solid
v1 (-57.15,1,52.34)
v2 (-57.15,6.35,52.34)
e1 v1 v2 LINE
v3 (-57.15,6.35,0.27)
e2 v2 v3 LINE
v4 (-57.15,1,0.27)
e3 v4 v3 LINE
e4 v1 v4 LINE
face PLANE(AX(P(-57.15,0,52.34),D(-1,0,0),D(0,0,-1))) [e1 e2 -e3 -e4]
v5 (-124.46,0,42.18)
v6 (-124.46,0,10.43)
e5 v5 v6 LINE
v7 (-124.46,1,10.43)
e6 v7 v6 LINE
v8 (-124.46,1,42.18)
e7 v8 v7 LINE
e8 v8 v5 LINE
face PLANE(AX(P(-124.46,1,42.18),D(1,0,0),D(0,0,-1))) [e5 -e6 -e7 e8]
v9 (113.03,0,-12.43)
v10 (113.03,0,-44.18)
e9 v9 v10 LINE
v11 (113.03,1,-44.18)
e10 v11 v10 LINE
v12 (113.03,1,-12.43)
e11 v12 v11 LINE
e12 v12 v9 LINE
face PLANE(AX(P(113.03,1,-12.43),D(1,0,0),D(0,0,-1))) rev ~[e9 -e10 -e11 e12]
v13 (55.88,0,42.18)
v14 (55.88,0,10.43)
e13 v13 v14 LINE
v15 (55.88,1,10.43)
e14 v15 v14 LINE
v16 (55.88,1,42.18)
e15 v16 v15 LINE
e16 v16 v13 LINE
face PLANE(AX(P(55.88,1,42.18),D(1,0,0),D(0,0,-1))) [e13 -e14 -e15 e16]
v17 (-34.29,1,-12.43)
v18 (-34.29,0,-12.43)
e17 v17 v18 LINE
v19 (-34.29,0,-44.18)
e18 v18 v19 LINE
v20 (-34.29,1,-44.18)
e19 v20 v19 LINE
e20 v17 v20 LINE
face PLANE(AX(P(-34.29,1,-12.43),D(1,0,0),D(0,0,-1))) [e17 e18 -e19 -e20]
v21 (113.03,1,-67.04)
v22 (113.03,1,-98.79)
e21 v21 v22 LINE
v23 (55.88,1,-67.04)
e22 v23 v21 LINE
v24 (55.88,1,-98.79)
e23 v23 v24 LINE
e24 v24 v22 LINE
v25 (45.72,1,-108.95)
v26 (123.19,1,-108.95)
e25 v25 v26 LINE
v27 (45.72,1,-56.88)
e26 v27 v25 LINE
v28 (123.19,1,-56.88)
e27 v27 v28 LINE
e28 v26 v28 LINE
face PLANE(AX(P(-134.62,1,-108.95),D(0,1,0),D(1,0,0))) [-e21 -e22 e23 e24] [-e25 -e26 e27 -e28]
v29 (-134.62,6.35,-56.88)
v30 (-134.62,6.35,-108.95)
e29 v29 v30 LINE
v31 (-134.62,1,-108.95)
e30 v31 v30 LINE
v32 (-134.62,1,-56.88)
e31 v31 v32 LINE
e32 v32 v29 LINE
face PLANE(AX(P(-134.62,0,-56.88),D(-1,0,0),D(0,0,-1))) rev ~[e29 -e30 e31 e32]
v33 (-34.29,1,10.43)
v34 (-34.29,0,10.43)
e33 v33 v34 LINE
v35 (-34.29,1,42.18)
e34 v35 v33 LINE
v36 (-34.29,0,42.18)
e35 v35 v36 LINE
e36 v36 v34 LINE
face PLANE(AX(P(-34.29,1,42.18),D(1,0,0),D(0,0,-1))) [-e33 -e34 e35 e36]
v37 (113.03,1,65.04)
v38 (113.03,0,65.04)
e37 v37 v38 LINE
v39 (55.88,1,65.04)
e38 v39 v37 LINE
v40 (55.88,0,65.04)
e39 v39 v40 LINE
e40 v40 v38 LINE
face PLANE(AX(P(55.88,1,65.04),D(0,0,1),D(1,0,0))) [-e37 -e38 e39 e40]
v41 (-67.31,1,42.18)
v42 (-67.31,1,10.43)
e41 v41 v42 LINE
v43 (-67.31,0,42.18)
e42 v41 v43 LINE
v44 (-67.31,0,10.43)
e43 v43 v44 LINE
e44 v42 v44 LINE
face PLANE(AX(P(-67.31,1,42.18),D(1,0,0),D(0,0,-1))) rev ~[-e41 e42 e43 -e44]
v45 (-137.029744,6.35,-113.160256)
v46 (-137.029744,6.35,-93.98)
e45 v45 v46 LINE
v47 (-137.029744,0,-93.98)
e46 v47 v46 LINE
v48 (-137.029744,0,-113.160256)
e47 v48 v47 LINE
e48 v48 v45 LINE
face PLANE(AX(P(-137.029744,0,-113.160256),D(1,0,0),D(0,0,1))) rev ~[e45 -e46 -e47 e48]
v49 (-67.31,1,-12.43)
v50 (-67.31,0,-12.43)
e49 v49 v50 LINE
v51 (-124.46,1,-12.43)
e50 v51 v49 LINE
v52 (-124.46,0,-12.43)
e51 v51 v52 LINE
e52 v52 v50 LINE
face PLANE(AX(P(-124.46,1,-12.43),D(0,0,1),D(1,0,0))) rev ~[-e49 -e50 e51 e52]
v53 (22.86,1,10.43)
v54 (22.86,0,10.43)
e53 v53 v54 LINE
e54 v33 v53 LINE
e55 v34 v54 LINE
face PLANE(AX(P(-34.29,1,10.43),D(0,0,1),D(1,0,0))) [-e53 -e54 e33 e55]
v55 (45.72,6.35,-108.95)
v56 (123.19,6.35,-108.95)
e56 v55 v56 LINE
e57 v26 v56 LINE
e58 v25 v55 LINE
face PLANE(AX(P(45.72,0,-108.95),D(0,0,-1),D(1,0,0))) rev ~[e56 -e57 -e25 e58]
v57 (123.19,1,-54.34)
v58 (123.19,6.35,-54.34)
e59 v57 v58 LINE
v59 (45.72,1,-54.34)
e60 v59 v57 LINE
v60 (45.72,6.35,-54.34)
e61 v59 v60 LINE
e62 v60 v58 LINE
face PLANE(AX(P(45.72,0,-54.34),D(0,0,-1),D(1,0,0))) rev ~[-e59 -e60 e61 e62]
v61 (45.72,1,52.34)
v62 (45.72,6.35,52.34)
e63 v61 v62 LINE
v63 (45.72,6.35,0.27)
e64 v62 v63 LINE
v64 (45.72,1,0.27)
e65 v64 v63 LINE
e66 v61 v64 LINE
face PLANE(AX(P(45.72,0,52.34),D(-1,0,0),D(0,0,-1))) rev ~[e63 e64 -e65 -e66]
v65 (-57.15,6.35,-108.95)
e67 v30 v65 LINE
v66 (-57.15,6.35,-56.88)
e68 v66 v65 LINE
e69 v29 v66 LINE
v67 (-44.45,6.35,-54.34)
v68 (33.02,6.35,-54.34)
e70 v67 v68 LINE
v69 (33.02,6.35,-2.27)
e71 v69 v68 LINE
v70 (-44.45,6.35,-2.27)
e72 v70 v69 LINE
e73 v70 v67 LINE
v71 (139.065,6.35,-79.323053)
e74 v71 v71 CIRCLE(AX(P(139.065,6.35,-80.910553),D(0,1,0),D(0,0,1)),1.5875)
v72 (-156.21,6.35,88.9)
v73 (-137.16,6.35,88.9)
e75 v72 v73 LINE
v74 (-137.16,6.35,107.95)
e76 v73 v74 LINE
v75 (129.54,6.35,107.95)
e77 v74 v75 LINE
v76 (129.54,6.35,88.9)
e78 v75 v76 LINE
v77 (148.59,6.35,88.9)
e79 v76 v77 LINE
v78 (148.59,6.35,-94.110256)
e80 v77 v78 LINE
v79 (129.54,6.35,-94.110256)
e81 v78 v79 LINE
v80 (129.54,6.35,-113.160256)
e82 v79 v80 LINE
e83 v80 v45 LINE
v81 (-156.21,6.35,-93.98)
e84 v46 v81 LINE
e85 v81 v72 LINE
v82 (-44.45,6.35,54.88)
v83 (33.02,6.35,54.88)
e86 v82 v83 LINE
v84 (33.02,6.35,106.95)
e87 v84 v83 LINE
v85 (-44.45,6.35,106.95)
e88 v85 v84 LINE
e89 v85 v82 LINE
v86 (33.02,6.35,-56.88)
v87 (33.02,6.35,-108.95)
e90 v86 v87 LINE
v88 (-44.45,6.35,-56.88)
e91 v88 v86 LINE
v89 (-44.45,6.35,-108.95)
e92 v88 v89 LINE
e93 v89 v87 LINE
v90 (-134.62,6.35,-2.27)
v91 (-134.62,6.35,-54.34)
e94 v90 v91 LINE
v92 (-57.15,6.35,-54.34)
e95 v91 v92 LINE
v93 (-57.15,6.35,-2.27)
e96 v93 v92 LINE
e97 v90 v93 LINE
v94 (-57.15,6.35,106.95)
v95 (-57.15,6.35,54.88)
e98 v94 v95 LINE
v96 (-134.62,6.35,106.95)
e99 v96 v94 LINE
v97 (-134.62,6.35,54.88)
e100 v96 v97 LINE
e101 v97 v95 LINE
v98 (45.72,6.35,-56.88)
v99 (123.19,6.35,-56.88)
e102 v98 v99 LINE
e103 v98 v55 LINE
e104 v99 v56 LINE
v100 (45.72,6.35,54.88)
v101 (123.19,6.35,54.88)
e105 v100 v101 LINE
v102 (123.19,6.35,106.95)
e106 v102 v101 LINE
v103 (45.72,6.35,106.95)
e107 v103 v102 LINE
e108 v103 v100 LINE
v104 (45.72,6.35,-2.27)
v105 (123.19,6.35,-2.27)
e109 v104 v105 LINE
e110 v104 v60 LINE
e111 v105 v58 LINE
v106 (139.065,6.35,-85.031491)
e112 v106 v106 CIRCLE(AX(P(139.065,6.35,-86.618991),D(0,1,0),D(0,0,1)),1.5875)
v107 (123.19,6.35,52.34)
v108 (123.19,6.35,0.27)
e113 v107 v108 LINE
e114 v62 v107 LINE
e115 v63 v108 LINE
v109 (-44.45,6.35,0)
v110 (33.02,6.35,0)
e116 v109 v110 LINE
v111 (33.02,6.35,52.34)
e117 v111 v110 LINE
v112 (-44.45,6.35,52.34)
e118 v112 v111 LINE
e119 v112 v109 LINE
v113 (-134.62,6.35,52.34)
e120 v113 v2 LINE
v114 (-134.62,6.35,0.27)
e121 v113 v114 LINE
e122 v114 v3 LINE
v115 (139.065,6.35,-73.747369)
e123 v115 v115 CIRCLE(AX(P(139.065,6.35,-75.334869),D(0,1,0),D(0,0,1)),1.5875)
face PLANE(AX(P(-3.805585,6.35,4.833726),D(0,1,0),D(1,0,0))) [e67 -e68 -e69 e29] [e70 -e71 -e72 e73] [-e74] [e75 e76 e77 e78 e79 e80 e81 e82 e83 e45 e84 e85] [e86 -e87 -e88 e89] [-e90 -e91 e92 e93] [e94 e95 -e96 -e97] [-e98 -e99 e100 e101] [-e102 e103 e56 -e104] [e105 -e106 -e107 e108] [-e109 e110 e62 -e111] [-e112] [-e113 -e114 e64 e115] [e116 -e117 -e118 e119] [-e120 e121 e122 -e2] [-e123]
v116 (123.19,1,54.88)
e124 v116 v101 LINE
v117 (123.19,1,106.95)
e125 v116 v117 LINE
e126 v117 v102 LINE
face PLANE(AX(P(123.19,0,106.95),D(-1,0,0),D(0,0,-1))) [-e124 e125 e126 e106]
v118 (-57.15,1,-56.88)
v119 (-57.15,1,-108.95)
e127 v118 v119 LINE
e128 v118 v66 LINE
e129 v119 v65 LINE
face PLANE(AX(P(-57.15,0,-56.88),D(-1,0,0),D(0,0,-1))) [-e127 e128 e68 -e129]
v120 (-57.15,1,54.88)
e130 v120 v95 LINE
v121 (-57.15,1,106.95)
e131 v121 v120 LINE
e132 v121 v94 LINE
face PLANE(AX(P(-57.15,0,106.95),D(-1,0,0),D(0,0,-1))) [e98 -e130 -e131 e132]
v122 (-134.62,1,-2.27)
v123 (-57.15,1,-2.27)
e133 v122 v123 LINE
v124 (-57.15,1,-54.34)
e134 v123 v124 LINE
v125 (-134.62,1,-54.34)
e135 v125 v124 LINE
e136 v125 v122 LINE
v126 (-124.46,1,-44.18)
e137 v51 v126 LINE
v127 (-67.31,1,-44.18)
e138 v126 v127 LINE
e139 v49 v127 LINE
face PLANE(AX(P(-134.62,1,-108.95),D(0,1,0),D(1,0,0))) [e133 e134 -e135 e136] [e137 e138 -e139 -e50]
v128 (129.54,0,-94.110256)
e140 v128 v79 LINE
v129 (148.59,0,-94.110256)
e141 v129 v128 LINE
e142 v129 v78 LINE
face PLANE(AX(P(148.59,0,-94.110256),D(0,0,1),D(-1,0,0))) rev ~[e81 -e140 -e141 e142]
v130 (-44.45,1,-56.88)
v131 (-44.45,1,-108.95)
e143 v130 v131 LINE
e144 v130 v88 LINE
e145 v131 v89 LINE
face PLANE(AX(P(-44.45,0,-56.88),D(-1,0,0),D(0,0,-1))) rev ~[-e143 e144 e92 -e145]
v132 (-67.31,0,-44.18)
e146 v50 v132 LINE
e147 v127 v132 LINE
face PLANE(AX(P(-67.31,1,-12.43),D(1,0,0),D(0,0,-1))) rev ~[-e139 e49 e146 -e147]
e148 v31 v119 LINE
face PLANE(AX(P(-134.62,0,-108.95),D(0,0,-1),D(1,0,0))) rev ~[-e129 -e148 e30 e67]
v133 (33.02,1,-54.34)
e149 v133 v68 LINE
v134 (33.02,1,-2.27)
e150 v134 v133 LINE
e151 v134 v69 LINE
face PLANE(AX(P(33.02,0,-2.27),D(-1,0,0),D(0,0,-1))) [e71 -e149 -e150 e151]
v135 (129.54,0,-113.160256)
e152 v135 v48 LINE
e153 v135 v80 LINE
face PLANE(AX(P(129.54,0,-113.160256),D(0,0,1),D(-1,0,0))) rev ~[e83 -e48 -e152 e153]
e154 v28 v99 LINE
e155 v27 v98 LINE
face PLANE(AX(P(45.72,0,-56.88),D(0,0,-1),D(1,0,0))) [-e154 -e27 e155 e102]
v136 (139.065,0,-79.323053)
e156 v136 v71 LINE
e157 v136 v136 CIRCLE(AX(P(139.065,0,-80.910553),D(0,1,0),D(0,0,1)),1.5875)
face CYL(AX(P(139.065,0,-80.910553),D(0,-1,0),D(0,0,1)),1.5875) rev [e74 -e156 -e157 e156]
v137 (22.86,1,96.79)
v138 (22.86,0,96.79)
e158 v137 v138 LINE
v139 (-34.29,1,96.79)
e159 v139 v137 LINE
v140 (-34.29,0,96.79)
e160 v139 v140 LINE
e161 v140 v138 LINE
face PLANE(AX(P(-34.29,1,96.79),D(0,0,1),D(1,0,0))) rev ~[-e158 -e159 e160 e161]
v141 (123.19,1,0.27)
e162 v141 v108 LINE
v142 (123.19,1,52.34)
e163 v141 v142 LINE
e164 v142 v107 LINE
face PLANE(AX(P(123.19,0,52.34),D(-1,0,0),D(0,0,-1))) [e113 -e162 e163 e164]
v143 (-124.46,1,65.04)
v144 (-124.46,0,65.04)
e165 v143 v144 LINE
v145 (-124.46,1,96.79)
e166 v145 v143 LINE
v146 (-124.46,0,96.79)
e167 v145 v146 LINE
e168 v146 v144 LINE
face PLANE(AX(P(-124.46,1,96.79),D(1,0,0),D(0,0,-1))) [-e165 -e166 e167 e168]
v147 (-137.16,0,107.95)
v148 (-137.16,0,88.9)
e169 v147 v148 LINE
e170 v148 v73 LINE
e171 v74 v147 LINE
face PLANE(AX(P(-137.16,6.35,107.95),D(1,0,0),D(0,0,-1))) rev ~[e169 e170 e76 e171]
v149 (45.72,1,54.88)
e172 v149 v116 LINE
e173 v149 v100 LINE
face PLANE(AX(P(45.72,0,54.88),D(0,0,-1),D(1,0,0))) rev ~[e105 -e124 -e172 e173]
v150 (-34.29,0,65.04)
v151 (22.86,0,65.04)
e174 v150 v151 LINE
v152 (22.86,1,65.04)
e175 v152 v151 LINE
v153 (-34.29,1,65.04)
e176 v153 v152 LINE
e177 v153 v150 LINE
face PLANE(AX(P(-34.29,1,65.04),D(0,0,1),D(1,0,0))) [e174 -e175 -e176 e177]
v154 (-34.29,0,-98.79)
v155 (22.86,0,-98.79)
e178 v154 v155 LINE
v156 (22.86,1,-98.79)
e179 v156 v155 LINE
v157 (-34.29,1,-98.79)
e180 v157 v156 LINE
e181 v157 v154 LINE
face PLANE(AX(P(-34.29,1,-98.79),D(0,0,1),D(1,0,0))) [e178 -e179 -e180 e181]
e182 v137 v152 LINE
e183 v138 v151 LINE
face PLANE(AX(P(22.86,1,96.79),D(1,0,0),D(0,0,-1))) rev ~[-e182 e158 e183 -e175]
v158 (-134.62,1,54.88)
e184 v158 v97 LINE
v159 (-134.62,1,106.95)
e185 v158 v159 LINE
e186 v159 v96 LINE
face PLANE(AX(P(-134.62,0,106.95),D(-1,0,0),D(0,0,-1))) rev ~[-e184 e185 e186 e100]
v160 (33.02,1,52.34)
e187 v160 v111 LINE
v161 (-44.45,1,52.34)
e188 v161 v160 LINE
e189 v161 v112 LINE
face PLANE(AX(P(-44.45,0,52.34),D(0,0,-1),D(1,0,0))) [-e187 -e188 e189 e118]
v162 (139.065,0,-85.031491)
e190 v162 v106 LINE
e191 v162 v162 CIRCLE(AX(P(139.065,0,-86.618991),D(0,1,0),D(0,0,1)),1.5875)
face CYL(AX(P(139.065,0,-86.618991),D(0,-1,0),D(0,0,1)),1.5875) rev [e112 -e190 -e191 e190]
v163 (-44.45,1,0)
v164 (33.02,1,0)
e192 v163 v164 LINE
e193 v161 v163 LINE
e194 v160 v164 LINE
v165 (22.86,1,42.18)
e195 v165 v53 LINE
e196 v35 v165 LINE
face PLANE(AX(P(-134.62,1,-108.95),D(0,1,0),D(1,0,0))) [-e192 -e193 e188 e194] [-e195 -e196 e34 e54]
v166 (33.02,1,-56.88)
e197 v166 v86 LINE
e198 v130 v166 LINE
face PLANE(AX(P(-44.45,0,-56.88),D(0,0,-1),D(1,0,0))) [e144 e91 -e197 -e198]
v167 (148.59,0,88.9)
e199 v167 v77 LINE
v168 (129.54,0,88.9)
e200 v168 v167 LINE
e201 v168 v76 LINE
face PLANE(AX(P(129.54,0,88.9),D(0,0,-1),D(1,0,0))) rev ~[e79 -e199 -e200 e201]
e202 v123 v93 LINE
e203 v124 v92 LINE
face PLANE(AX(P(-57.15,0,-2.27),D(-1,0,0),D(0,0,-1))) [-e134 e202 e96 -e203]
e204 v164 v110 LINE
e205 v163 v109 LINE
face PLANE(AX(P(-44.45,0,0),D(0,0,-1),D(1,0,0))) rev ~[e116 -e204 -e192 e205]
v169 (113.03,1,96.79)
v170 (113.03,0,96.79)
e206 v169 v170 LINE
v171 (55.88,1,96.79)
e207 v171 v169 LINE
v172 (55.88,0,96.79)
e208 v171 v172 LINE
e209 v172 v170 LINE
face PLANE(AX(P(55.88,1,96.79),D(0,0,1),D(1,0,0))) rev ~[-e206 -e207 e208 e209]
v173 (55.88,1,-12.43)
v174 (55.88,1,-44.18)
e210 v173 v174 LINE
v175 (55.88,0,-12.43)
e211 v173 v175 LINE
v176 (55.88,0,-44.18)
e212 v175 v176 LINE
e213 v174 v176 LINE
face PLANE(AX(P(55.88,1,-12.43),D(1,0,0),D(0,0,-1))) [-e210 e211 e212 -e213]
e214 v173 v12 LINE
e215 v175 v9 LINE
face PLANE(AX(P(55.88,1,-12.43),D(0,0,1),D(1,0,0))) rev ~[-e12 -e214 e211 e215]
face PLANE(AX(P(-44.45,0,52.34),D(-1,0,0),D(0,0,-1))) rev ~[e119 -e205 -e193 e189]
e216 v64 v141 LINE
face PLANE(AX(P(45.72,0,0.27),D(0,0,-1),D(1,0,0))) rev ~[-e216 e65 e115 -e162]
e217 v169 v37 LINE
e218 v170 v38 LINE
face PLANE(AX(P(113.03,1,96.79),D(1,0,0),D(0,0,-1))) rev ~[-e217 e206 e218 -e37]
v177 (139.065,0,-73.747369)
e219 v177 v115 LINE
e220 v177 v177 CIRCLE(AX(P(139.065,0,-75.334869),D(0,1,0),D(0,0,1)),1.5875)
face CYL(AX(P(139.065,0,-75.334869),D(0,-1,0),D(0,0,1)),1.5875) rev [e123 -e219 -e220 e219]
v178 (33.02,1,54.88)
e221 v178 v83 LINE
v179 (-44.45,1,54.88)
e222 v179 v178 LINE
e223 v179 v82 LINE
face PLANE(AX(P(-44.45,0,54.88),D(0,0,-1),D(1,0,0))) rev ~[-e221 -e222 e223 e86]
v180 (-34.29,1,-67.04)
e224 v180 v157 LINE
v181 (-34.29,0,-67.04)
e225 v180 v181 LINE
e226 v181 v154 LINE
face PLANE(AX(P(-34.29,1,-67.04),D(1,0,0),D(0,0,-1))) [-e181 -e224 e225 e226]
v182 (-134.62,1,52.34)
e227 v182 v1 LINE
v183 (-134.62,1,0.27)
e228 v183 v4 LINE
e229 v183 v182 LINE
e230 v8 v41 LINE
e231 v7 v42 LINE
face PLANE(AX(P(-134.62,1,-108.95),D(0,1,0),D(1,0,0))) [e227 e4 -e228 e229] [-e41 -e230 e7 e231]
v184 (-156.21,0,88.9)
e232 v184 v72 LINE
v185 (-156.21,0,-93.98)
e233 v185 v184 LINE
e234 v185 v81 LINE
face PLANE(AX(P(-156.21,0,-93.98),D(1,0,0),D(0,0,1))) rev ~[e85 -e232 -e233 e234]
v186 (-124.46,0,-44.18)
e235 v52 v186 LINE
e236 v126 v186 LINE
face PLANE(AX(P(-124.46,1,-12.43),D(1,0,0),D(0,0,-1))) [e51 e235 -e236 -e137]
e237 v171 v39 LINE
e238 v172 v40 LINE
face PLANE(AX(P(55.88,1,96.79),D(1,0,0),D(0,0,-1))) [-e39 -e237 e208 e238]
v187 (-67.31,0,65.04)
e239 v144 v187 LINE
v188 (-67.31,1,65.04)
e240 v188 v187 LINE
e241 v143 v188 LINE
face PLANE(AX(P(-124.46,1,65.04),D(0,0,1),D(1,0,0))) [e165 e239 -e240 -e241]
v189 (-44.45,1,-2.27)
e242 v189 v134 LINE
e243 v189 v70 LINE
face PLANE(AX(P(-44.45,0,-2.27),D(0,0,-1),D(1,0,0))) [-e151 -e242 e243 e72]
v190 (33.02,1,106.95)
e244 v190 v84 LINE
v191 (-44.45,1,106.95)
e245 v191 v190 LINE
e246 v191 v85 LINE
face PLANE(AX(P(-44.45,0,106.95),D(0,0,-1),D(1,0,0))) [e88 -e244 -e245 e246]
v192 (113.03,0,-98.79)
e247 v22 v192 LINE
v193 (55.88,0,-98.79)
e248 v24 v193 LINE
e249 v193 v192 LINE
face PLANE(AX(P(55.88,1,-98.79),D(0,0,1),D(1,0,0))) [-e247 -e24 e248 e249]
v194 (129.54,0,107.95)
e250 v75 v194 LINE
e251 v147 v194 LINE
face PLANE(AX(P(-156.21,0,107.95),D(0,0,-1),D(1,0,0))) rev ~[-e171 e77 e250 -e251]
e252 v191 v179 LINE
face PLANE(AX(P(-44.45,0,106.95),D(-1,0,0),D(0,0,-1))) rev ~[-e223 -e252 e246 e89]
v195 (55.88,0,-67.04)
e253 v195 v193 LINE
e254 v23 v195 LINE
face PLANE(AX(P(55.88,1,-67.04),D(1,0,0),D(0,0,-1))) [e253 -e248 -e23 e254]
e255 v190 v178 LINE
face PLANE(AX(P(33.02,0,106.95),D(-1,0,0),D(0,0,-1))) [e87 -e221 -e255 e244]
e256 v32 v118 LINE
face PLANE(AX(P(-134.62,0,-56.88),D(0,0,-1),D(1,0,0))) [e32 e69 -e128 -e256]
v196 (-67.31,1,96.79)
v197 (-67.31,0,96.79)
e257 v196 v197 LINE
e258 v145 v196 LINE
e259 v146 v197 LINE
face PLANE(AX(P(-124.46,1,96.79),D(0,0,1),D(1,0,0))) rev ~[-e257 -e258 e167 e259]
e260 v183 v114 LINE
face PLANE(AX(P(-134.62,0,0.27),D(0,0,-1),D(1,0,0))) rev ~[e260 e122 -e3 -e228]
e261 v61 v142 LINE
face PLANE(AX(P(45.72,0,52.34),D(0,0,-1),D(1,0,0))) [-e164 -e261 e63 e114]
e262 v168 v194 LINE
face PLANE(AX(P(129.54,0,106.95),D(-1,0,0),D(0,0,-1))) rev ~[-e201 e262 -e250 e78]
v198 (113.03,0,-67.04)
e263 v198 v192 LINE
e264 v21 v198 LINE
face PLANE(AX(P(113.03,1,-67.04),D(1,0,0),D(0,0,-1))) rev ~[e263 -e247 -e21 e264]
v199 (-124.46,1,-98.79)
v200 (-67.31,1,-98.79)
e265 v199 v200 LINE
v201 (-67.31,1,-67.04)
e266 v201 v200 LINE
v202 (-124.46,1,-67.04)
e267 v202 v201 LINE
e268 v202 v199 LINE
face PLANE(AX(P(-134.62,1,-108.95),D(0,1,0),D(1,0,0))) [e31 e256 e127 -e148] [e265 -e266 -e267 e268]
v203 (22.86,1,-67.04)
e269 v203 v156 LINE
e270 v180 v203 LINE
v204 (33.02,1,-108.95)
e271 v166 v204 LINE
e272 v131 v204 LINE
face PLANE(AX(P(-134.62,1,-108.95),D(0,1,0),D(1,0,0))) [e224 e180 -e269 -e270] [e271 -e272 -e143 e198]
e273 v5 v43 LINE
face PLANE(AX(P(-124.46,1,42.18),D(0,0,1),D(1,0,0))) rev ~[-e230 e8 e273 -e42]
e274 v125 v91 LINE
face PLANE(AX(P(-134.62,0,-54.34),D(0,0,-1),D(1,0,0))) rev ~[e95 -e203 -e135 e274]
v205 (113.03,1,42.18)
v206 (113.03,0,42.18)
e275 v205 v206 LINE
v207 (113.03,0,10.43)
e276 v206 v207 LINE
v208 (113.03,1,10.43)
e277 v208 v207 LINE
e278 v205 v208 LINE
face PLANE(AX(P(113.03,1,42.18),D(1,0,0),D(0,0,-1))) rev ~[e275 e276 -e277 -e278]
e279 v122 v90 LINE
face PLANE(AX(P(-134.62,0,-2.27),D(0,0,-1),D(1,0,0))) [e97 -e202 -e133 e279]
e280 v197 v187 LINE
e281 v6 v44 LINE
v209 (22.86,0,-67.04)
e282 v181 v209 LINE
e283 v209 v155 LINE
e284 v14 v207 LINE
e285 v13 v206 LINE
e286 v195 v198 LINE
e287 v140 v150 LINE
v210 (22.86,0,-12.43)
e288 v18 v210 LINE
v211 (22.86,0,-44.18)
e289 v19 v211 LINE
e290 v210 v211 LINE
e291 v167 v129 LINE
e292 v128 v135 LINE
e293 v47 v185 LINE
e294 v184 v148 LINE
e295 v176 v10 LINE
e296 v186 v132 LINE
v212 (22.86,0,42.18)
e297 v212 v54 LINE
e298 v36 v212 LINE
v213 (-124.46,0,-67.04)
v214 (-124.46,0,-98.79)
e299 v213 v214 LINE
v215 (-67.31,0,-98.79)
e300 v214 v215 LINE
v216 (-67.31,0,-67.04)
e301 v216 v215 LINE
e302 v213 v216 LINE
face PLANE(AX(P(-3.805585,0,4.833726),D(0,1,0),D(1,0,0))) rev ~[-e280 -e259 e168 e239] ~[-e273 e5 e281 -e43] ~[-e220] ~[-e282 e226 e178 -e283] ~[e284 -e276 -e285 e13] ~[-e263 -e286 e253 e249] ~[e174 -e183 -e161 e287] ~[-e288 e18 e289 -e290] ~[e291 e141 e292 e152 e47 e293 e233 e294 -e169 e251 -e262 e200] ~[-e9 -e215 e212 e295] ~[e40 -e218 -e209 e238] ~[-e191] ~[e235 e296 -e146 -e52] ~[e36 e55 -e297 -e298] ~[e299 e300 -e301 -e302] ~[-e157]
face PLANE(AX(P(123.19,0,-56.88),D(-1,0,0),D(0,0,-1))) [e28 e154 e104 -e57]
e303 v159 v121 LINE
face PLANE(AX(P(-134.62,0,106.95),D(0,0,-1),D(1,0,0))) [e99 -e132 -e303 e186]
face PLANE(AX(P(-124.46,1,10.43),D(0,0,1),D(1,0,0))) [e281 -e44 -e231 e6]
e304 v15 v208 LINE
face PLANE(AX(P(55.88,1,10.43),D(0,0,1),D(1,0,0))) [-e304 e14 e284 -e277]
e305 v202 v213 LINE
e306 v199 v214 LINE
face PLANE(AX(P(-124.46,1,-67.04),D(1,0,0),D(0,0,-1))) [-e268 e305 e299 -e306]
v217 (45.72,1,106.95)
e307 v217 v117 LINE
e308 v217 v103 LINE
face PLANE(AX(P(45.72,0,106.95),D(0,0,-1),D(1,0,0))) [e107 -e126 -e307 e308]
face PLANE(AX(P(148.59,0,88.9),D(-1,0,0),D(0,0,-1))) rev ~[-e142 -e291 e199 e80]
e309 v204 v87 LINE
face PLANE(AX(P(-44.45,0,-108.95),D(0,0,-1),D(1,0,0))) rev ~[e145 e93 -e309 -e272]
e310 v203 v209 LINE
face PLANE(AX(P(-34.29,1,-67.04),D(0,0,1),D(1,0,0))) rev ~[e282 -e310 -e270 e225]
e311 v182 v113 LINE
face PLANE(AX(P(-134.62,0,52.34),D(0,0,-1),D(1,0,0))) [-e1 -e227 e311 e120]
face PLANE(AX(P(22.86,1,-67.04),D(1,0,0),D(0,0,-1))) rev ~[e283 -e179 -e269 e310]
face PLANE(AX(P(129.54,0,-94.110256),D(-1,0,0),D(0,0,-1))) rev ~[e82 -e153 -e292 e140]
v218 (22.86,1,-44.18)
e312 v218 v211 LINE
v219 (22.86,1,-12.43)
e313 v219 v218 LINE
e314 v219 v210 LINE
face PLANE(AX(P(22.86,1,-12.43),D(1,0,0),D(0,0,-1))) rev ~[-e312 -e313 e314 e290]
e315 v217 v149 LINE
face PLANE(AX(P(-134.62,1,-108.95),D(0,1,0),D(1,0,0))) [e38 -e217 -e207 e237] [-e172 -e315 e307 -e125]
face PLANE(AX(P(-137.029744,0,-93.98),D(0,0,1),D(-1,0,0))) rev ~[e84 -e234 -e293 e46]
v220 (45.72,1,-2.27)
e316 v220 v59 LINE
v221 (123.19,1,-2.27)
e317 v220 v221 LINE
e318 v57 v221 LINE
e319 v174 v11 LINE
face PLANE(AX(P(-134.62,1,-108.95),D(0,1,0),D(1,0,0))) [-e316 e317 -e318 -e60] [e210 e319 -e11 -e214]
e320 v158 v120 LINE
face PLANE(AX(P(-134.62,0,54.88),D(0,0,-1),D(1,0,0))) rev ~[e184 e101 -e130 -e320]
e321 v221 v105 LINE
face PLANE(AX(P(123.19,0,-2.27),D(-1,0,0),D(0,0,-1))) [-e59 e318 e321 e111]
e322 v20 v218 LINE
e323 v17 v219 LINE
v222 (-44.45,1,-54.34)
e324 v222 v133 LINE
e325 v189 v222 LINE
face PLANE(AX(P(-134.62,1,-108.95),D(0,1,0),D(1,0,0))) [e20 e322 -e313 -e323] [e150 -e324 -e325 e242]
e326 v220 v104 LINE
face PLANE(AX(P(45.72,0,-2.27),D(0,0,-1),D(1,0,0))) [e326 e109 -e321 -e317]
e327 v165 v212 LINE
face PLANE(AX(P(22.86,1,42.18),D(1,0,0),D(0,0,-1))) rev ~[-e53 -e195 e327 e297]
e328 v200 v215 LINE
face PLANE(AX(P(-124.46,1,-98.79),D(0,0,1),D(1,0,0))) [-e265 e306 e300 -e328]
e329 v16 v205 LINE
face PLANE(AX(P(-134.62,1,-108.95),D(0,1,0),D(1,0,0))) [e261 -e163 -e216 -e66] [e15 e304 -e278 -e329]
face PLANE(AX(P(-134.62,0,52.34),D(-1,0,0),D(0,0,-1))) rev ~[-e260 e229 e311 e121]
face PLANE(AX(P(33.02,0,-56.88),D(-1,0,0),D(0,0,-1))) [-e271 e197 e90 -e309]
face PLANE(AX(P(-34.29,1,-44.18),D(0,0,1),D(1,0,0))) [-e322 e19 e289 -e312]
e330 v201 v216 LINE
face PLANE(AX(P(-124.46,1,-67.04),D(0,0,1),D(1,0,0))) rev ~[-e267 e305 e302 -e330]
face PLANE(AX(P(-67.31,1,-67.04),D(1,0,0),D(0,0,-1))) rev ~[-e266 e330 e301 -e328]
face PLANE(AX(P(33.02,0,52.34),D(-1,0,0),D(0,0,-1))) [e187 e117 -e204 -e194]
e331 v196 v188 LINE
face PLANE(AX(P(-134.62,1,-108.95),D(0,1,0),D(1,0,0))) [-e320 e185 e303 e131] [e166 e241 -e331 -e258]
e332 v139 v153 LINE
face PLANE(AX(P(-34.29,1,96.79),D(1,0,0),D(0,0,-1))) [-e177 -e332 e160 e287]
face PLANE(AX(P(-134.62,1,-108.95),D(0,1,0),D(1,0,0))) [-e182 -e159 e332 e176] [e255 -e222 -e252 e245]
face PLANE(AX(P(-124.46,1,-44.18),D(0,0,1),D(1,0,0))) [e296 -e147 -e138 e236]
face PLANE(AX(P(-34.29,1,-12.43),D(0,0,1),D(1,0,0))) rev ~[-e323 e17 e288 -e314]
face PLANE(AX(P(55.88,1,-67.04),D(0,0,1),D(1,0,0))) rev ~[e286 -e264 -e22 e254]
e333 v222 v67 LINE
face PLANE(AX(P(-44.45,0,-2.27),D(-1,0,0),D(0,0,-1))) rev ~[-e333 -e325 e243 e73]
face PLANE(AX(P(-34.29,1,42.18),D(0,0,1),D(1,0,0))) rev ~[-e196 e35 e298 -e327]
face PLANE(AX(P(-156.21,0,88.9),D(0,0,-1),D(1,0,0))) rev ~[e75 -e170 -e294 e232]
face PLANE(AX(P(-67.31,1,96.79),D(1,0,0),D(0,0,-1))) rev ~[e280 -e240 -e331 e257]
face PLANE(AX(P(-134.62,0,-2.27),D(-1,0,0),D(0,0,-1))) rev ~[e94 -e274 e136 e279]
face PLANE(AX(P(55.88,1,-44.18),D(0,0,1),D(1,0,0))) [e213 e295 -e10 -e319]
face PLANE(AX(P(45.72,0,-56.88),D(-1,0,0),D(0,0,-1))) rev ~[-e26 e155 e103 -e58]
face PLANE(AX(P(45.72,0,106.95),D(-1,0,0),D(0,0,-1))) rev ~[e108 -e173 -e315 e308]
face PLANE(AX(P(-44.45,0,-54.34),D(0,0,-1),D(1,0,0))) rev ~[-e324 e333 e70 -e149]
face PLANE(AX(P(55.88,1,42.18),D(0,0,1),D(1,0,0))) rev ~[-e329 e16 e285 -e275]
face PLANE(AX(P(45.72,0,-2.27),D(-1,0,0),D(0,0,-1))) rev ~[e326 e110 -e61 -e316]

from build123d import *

# Parameters (mm, degrees)
SKETCH1_W           = 77.47
SKETCH1_H           = 52.07
SKETCH1_R           = 1.5875
SKETCH1_H_2         = 52.34
BOSS_EXTRUDE3_DEPTH = 6.35
SKETCH2_W           = 19.05
SKETCH2_H           = 1
CUT_EXTRUDE1_DEPTH  = 193.995155978
SKETCH4_W           = 19.05
SKETCH4_H           = 1
CUT_EXTRUDE2_DEPTH  = 193.995155978
SKETCH5_W           = 257.81
SKETCH5_H           = 1
BOSS_EXTRUDE4_DEPTH = 215.9
SKETCH6_W           = 57.15
SKETCH6_H           = 31.75
CUT_EXTRUDE3_DEPTH  = 193.964841955


with BuildPart() as part:
    # Sketch1 → Boss-Extrude3 (new body)
    with BuildSketch(Plane(origin=(0, 0, 0), x_dir=(1, 0, 0), z_dir=(0, 1, 0))):
        Polygon((148.59, 94.11025641), (129.54, 94.11025641), (129.54, 113.16025641), (-137.02974359, 113.16025641), (-137.02974359, 93.98), (-156.21, 93.98), (-156.21, -88.9), (-137.16, -88.9), (-137.16, -106.95), (-156.21, -106.95), (-156.21, -107.95), (148.59, -107.95), (148.59, -106.95), (129.54, -106.95), (129.54, -88.9), (148.59, -88.9), align=None)
        with Locations((-95.885, -80.915)):
            Rectangle(SKETCH1_W, SKETCH1_H, mode=Mode.SUBTRACT)
        with Locations((-5.715, -80.915)):
            Rectangle(SKETCH1_W, SKETCH1_H, mode=Mode.SUBTRACT)
        with Locations((84.455, -80.915)):
            Rectangle(SKETCH1_W, SKETCH1_H, mode=Mode.SUBTRACT)
        with Locations((84.455, 82.915)):
            Rectangle(SKETCH1_W, SKETCH1_H, mode=Mode.SUBTRACT)
        with Locations((84.455, 28.305)):
            Rectangle(SKETCH1_W, SKETCH1_H, mode=Mode.SUBTRACT)
        with Locations((84.455, -26.305)):
            Rectangle(SKETCH1_W, SKETCH1_H, mode=Mode.SUBTRACT)
        with Locations(Location((139.065, 75.334869264, 0), (0, 0, 270))):
            Circle(SKETCH1_R, mode=Mode.SUBTRACT)
        with Locations(Location((139.065, 80.910552749, 0), (0, 0, 270))):
            Circle(SKETCH1_R, mode=Mode.SUBTRACT)
        with Locations(Location((139.065, 86.618990604, 0), (0, 0, 270))):
            Circle(SKETCH1_R, mode=Mode.SUBTRACT)
        with Locations((-5.715, 82.915)):
            Rectangle(SKETCH1_W, SKETCH1_H, mode=Mode.SUBTRACT)
        with Locations((-95.885, -26.305)):
            Rectangle(SKETCH1_W, SKETCH1_H, mode=Mode.SUBTRACT)
        with Locations((-5.715, -26.17)):
            Rectangle(SKETCH1_W, SKETCH1_H_2, mode=Mode.SUBTRACT)
        with Locations((-95.885, 28.305)):
            Rectangle(SKETCH1_W, SKETCH1_H, mode=Mode.SUBTRACT)
        with Locations((-5.715, 28.305)):
            Rectangle(SKETCH1_W, SKETCH1_H, mode=Mode.SUBTRACT)
        with Locations((-95.885, 82.915)):
            Rectangle(SKETCH1_W, SKETCH1_H, mode=Mode.SUBTRACT)
    extrude(amount=BOSS_EXTRUDE3_DEPTH)

    # Sketch2 → Cut-Extrude1 (cut, through all)
    with BuildSketch(Plane(origin=(0, 6.35, 0), x_dir=(1, 0, 0), z_dir=(0, 1, 0))):
        with Locations((139.065, -107.45)):
            Rectangle(SKETCH2_W, SKETCH2_H)
    extrude(amount=-CUT_EXTRUDE1_DEPTH, mode=Mode.SUBTRACT)

    # Sketch4 → Cut-Extrude2 (cut, through all)
    with BuildSketch(Plane(origin=(0, 6.35, 0), x_dir=(1, 0, 0), z_dir=(0, 1, 0))):
        with Locations((-146.685, -107.45)):
            Rectangle(SKETCH4_W, SKETCH4_H)
    extrude(amount=-CUT_EXTRUDE2_DEPTH, mode=Mode.SUBTRACT)

    # Sketch5 → Boss-Extrude4 (add)
    with BuildSketch(Plane.XY.offset(-108.95)):
        with Locations((-5.715, 0.5)):
            Rectangle(SKETCH5_W, SKETCH5_H)
    extrude(amount=BOSS_EXTRUDE4_DEPTH)

    # Sketch6 → Cut-Extrude3 (cut, through all)
    with BuildSketch(Plane(origin=(0, 1, 0), x_dir=(1, 0, 0), z_dir=(0, 1, 0))):
        with Locations((-95.885, 82.915)):
            Rectangle(SKETCH6_W, SKETCH6_H)
        with Locations((-95.885, 28.305)):
            Rectangle(SKETCH6_W, SKETCH6_H)
        with Locations((-95.885, -26.305)):
            Rectangle(SKETCH6_W, SKETCH6_H)
        with Locations((-95.885, -80.915)):
            Rectangle(SKETCH6_W, SKETCH6_H)
        with Locations((-5.715, 82.915)):
            Rectangle(SKETCH6_W, SKETCH6_H)
        with Locations((84.455, 82.915)):
            Rectangle(SKETCH6_W, SKETCH6_H)
        with Locations((-5.715, 28.305)):
            Rectangle(SKETCH6_W, SKETCH6_H)
        with Locations((-5.715, -26.305)):
            Rectangle(SKETCH6_W, SKETCH6_H)
        with Locations((-5.715, -80.915)):
            Rectangle(SKETCH6_W, SKETCH6_H)
        with Locations((84.455, -80.915)):
            Rectangle(SKETCH6_W, SKETCH6_H)
        with Locations((84.455, -26.305)):
            Rectangle(SKETCH6_W, SKETCH6_H)
        with Locations((84.455, 28.305)):
            Rectangle(SKETCH6_W, SKETCH6_H)
    extrude(amount=-CUT_EXTRUDE3_DEPTH, mode=Mode.SUBTRACT)


solid = part.part
